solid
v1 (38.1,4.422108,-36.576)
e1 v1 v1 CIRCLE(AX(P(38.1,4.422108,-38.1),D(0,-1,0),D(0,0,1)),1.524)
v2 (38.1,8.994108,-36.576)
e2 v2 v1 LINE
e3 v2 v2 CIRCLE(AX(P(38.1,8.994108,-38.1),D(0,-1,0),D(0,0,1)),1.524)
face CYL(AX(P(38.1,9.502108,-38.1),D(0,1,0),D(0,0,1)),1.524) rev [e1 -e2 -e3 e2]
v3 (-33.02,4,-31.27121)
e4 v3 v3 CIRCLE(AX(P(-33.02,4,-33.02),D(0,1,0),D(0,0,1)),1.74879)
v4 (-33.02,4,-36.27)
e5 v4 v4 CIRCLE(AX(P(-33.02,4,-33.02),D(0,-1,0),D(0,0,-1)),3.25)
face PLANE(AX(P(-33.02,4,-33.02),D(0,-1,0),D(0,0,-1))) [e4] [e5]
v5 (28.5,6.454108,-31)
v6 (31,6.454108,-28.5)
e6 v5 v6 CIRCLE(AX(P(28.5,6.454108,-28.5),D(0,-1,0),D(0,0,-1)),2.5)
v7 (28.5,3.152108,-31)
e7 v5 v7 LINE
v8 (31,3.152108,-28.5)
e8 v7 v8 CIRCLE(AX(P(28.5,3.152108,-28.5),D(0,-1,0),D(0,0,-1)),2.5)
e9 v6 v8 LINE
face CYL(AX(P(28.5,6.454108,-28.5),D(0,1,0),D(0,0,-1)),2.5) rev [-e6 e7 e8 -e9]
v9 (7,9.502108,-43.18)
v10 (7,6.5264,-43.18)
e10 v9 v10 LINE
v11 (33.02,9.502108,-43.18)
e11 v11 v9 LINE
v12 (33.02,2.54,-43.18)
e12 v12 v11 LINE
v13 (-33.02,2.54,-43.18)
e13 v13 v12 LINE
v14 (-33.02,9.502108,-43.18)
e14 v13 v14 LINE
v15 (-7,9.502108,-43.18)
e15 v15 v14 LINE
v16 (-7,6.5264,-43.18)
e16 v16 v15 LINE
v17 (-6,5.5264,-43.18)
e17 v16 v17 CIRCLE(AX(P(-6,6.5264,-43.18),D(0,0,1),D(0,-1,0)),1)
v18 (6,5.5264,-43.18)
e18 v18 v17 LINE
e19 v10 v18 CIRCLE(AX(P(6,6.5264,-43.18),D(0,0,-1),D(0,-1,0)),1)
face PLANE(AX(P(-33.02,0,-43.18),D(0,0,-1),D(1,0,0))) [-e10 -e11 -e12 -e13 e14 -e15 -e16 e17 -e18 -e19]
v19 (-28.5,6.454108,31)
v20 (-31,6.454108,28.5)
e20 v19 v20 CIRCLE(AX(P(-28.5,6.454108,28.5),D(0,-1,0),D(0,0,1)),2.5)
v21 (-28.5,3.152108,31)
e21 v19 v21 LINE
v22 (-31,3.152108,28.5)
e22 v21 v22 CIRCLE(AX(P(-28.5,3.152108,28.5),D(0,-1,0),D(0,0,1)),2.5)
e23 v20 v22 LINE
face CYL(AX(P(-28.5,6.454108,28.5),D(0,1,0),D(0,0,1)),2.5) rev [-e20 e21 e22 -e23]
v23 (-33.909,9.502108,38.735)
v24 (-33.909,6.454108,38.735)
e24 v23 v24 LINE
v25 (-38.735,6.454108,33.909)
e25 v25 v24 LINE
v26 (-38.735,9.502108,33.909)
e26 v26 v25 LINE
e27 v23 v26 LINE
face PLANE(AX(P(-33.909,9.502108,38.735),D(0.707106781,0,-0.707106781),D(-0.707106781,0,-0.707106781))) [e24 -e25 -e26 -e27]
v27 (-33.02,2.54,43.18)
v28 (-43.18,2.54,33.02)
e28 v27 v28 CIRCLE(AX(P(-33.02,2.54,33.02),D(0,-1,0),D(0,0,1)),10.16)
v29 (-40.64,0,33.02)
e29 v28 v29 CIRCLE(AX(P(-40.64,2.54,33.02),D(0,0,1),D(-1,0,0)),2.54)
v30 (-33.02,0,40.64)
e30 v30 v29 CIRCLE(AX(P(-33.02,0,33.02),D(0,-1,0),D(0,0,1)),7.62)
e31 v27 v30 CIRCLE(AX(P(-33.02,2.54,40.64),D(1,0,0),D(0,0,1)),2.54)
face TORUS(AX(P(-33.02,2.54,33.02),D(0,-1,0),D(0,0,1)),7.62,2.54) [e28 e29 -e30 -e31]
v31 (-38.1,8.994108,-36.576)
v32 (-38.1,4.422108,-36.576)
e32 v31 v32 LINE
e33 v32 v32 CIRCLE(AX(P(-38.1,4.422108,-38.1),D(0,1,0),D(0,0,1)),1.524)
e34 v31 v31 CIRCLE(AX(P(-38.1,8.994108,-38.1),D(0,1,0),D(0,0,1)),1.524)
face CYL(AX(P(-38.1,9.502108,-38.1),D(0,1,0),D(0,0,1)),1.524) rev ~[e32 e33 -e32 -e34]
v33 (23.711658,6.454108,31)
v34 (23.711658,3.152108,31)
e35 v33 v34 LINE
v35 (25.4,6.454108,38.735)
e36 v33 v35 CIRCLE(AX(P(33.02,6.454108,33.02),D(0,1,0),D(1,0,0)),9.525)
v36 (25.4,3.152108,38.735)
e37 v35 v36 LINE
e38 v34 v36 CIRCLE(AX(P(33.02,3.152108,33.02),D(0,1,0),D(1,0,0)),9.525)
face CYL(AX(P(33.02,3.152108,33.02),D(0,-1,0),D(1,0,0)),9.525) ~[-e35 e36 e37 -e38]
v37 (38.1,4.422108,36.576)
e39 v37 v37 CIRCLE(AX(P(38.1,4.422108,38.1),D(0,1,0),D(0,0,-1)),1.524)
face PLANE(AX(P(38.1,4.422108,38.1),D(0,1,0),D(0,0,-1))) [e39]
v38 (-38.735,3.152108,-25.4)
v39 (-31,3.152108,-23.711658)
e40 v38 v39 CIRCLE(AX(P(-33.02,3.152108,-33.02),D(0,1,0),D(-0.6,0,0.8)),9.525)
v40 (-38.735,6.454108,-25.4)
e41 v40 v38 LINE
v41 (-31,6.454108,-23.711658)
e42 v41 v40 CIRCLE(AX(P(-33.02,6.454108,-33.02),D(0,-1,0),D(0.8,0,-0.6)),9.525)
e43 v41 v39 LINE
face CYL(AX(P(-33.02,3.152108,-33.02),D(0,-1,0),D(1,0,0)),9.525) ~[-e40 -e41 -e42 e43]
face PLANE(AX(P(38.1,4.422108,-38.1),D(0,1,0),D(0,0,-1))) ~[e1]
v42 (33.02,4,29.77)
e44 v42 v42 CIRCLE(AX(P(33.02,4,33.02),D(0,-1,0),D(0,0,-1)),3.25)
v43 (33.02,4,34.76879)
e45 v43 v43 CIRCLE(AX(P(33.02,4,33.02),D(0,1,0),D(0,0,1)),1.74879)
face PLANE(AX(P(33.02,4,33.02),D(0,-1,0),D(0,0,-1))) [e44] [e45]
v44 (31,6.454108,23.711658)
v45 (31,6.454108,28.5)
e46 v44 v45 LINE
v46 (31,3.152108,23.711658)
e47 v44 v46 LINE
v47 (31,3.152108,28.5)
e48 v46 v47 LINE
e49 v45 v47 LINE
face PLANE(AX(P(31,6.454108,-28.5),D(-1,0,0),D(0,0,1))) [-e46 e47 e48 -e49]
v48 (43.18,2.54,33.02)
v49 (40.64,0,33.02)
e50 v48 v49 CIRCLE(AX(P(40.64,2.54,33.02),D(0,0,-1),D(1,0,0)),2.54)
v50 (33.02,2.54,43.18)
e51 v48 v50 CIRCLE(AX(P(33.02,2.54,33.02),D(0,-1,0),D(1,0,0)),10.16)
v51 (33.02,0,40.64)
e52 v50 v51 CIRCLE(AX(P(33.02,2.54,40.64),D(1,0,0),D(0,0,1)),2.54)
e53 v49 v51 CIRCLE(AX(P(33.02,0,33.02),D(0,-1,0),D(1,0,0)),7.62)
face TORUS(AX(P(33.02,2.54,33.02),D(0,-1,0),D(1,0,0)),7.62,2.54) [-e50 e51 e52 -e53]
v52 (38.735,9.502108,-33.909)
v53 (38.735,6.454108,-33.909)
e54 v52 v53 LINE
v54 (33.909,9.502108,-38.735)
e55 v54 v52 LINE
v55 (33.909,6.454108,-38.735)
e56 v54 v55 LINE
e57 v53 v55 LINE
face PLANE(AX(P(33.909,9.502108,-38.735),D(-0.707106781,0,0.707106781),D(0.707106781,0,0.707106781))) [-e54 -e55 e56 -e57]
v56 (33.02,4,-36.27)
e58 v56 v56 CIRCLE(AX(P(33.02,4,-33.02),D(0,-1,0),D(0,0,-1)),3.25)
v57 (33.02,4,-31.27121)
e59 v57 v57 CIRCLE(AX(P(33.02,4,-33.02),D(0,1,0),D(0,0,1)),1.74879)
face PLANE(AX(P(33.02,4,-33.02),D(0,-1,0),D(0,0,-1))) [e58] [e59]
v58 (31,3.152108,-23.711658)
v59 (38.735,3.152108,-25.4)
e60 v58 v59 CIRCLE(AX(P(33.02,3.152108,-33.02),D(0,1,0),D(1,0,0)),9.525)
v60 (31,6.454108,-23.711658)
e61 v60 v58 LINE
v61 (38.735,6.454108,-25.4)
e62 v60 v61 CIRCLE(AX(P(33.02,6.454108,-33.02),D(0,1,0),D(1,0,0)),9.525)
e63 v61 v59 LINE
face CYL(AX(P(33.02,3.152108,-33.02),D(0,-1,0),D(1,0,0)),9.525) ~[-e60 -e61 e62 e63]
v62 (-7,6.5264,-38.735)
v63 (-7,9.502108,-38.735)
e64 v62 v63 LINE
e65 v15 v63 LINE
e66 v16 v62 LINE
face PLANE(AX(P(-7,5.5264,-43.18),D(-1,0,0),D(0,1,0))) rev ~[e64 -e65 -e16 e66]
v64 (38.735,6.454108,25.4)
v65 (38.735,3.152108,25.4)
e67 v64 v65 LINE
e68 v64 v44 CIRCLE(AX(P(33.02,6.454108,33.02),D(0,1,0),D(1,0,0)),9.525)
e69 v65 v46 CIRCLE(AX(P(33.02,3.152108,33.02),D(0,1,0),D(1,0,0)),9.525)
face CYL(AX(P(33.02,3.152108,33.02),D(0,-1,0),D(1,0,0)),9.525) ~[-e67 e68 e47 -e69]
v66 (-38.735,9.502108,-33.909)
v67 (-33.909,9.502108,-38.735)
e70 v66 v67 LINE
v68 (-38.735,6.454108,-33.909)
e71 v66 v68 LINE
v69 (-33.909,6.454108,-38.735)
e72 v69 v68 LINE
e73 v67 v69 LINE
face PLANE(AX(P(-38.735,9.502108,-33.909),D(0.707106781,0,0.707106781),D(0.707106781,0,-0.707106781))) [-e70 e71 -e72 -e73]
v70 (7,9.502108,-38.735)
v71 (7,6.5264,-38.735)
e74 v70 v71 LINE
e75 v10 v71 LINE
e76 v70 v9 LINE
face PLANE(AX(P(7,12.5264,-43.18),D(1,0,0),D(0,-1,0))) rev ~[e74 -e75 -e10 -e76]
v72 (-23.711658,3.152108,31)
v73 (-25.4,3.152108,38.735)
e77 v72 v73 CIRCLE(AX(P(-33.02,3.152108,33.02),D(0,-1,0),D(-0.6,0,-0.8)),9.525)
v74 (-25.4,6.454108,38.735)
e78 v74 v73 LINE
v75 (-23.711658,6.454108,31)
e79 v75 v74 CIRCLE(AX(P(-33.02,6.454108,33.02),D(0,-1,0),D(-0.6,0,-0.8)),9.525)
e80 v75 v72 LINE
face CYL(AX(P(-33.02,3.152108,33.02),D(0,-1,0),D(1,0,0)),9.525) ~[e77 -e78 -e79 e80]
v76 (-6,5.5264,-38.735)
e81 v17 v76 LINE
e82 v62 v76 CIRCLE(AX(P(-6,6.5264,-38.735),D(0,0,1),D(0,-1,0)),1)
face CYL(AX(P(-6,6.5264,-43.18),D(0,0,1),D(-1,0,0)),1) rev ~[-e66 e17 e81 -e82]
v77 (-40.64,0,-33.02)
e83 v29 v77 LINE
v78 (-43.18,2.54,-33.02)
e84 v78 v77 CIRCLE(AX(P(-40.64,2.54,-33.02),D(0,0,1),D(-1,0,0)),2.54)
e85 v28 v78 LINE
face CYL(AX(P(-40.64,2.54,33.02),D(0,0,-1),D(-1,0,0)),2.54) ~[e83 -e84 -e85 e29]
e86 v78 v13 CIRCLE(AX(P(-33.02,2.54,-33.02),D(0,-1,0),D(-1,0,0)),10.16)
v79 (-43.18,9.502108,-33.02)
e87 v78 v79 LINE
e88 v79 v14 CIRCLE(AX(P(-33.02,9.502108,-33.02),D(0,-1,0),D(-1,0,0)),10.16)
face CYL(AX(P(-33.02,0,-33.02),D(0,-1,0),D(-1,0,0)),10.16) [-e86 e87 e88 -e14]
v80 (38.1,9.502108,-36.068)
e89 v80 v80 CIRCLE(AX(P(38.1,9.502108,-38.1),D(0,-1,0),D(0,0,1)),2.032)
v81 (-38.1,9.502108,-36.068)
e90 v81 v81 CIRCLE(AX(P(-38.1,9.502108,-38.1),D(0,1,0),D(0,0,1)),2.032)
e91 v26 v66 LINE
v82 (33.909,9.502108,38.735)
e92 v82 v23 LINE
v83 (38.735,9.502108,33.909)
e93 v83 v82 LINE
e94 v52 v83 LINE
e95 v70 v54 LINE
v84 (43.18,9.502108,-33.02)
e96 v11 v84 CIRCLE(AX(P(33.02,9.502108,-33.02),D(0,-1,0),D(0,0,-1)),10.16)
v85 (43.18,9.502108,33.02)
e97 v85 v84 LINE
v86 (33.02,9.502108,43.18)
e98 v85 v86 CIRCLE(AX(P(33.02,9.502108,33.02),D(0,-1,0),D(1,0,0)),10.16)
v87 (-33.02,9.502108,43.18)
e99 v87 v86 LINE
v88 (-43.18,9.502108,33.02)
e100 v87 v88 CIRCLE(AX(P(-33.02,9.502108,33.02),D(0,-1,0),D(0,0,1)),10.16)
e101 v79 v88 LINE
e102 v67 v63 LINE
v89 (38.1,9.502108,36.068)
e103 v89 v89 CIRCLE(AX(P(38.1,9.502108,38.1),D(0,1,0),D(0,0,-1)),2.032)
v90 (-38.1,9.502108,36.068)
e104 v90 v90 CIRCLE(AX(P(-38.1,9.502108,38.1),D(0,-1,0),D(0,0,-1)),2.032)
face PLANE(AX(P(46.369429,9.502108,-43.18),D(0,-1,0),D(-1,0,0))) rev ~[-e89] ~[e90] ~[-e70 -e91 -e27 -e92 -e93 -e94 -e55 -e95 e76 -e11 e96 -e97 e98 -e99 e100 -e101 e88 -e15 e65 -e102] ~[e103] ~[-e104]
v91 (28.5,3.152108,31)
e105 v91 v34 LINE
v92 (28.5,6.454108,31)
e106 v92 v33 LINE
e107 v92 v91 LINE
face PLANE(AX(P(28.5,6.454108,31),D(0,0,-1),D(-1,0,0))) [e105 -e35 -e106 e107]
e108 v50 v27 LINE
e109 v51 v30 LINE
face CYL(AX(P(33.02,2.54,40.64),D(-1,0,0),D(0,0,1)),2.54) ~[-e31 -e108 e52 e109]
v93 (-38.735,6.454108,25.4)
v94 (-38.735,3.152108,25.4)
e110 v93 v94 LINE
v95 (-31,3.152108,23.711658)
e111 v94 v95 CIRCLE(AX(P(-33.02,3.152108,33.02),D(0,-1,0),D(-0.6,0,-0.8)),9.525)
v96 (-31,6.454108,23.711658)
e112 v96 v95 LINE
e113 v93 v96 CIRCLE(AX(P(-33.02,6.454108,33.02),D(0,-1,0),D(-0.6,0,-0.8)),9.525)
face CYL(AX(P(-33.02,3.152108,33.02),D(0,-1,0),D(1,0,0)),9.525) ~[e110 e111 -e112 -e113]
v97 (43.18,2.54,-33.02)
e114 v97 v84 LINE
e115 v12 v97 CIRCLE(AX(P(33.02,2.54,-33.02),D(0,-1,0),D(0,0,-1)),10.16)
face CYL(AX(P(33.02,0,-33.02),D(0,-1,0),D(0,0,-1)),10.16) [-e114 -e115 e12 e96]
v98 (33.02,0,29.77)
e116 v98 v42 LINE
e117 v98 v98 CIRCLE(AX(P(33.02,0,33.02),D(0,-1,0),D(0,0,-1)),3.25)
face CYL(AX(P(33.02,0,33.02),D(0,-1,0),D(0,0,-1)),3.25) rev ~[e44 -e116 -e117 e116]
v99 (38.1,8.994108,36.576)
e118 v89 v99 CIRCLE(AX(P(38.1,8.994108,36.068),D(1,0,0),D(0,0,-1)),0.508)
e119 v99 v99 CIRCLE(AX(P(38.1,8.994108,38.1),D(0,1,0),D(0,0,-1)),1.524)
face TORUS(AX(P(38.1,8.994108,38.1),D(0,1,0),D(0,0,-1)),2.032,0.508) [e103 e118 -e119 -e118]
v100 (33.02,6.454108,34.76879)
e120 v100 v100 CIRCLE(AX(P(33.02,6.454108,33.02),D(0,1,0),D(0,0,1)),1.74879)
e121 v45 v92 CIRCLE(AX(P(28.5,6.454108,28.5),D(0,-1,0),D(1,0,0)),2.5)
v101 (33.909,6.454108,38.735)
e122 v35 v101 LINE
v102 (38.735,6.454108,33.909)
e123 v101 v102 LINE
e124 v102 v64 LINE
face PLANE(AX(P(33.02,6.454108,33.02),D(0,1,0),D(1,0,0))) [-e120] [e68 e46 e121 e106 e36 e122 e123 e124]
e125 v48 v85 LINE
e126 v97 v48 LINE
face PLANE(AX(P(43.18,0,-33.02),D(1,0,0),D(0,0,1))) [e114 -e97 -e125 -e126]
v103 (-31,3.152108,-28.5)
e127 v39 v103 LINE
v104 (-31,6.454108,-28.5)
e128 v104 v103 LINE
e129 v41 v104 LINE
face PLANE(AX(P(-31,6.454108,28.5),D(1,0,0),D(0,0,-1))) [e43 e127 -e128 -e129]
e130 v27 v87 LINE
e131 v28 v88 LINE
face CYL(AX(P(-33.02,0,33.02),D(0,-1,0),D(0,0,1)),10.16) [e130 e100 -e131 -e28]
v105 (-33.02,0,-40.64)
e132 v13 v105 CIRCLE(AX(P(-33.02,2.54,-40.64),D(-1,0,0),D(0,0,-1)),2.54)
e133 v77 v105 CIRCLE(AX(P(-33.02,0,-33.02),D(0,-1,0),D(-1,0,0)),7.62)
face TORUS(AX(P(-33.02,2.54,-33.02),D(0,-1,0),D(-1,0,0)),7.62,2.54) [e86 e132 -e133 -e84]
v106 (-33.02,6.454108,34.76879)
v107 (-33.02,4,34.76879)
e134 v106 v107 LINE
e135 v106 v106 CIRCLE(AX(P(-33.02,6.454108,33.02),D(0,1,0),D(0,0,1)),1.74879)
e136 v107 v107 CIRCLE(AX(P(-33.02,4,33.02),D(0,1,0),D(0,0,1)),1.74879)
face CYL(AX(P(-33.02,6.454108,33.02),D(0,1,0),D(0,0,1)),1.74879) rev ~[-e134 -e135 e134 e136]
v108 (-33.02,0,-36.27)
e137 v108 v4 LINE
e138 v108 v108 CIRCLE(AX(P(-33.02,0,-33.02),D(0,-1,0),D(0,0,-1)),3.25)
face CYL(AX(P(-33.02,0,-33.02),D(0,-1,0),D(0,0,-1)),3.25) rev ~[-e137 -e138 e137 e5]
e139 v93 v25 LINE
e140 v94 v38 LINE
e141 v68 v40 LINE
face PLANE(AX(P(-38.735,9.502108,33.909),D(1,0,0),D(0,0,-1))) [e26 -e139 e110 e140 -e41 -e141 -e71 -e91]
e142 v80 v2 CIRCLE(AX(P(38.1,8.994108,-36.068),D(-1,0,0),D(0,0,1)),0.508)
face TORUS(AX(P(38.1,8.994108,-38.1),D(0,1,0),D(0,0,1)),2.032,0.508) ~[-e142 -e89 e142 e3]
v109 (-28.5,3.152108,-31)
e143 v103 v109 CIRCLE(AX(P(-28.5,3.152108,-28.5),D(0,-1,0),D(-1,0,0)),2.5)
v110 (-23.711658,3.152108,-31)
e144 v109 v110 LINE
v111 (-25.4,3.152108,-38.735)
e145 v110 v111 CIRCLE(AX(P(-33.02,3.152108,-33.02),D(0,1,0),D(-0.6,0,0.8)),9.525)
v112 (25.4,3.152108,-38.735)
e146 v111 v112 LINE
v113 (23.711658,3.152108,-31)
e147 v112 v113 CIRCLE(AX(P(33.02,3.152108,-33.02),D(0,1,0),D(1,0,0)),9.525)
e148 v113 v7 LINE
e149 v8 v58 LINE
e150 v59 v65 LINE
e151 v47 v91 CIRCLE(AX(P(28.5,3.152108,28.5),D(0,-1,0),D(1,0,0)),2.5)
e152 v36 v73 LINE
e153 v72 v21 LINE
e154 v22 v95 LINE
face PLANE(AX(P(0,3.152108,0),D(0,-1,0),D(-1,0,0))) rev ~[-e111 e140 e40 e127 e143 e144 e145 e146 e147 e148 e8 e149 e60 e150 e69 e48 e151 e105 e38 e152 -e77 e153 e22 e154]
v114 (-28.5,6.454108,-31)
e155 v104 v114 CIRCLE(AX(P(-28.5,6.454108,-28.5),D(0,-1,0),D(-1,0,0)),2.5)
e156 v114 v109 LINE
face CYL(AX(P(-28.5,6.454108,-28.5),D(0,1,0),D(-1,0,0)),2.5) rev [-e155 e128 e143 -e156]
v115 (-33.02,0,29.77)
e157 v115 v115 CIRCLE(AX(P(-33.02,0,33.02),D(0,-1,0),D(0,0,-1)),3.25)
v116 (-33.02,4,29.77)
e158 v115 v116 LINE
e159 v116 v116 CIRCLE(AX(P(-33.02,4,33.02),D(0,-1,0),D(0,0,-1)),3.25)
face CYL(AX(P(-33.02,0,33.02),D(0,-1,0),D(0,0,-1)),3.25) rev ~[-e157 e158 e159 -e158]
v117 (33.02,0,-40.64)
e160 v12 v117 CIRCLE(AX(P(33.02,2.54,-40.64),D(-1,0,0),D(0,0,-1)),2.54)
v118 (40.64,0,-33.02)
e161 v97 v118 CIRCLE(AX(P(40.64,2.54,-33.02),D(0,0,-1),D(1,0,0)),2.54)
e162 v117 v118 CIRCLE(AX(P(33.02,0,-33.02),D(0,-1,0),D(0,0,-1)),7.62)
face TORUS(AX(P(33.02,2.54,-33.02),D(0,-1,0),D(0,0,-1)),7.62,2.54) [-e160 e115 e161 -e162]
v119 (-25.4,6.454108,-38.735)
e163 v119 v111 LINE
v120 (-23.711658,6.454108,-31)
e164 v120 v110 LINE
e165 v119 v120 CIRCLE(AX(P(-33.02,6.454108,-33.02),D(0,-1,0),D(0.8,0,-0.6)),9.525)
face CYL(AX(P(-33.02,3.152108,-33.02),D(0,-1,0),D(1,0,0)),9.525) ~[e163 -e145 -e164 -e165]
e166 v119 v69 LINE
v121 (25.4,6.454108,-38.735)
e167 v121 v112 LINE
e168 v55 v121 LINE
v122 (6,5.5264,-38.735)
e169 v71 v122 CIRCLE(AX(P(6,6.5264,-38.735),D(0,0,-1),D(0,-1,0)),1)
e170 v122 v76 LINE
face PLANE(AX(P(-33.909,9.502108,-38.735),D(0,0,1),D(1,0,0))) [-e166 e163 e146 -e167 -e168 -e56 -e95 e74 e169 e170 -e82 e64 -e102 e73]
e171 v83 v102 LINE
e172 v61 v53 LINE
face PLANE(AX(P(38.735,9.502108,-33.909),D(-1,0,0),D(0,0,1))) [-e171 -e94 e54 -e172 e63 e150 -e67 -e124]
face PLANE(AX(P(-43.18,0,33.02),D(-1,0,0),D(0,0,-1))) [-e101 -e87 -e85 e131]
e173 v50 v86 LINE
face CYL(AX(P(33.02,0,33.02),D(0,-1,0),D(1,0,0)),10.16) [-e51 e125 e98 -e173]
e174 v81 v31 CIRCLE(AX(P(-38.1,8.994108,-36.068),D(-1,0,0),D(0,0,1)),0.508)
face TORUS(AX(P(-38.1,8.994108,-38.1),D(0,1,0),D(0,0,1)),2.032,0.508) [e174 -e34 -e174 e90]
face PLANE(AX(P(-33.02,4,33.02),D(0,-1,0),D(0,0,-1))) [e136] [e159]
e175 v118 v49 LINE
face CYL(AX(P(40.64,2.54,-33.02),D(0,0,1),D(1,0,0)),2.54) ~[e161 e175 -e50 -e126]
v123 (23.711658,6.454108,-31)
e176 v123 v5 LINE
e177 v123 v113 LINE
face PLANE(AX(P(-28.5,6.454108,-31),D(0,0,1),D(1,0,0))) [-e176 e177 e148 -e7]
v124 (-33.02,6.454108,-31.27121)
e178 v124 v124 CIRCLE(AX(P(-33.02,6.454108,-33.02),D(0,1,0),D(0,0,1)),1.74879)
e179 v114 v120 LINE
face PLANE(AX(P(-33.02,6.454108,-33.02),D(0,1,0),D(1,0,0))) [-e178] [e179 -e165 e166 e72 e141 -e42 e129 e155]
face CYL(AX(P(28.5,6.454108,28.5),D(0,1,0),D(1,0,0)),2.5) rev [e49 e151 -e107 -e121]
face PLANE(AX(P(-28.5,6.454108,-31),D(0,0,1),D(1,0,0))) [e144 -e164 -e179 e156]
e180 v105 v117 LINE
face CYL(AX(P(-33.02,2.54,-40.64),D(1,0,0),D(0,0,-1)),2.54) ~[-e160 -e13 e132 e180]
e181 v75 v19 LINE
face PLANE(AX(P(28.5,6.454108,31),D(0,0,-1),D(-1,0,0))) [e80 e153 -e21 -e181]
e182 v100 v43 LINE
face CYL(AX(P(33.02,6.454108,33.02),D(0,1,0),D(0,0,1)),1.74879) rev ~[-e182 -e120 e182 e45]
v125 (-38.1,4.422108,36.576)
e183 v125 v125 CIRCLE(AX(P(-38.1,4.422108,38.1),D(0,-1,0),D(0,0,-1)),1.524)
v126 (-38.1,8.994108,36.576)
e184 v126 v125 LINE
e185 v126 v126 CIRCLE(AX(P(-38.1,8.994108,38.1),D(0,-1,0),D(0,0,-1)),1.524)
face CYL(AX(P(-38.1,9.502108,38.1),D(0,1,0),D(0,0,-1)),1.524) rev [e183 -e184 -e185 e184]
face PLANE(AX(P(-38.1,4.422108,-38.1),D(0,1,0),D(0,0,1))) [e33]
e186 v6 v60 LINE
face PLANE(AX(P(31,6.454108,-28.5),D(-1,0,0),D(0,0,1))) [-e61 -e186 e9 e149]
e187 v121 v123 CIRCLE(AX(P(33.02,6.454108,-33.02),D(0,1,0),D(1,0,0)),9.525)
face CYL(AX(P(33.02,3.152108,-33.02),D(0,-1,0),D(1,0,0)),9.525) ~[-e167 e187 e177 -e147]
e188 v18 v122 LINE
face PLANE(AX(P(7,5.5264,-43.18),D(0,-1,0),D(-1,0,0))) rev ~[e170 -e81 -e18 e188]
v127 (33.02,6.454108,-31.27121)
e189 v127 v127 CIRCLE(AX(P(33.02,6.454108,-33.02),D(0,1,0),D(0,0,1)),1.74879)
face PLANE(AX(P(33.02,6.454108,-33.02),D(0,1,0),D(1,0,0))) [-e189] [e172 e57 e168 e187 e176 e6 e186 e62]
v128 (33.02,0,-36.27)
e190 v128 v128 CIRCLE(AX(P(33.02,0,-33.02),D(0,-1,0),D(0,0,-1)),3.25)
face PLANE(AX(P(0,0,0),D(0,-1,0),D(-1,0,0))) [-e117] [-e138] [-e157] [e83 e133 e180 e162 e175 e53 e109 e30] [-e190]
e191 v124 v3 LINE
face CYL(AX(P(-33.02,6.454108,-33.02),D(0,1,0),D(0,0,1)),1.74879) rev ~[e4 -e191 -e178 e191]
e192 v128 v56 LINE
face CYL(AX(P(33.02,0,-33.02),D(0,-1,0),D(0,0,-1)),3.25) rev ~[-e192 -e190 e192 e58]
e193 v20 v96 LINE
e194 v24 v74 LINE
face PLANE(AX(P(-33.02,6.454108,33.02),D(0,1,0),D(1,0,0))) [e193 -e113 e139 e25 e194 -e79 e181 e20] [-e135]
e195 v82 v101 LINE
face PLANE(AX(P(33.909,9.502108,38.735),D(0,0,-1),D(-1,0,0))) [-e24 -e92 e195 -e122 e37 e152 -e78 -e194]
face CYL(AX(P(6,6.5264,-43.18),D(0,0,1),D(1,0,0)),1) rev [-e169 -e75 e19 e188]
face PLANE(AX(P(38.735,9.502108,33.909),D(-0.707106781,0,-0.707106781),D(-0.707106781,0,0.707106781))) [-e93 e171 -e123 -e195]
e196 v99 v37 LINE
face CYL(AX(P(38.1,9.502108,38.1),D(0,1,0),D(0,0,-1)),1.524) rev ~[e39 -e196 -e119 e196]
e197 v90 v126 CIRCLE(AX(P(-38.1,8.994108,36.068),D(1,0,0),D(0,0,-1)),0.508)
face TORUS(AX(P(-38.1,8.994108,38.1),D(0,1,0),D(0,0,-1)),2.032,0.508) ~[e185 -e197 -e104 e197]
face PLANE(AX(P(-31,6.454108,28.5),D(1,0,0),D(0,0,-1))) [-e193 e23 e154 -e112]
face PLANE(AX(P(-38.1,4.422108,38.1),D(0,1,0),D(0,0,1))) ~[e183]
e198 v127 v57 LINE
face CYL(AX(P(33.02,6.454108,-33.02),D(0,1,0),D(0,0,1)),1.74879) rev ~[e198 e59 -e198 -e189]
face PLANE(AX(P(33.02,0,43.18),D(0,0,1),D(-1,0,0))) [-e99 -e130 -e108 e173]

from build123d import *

# Parameters (mm, degrees)
BOSS_EXTRUDE1_DEPTH     = 24.9936
CUT_EXTRUDE1_DEPTH      = 20
SKETCH5_W               = 92.738858464
SKETCH5_H               = 19.900213379
CUT_EXTRUDE2_DEPTH      = 127
CUT_EXTRUDE3_DEPTH      = 6.35
SKETCH8_R               = 9.525
BOSS_EXTRUDE2_DEPTH     = 3.302
FILLET2_R               = 2.54
SKETCH9_R               = 1.74879
CUT_EXTRUDE4_DEPTH      = 15.6972
SKETCH10_R              = 3.25
CUT_EXTRUDE5_DEPTH      = 4
SKETCH11_R              = 1.524
CUT_EXTRUDE6_DEPTH      = 5.08
MIRROR2_COPY_1_SKETCH_R = 1.524
MIRROR2_COPY_1_DEPTH    = 5.08
FILLET3_R               = 0.508
CUT_EXTRUDE7_DEPTH      = 3.302
FILLET5_R               = 1


with BuildPart() as part:
    # Sketch1 → Boss-Extrude1 (new body)
    with BuildSketch(Plane(origin=(0, 0, 0), x_dir=(1, 0, 0), z_dir=(0, 1, 0))):
        with BuildLine():
            Line((-33.02, 43.18), (33.02, 43.18))
            ThreePointArc((33.02, 43.18), (40.204204897, 40.204204897), (43.18, 33.02))
            Line((43.18, 33.02), (43.18, -33.02))
            ThreePointArc((43.18, -33.02), (40.204204897, -40.204204897), (33.02, -43.18))
            Line((33.02, -43.18), (-33.02, -43.18))
            ThreePointArc((-33.02, -43.18), (-40.204204897, -40.204204897), (-43.18, -33.02))
            Line((-43.18, -33.02), (-43.18, 33.02))
            ThreePointArc((-43.18, 33.02), (-40.204204897, 40.204204897), (-33.02, 43.18))
        make_face()
    extrude(amount=BOSS_EXTRUDE1_DEPTH)

    # Sketch2 → Cut-Extrude1 (cut)
    with BuildSketch(Plane(origin=(0, 0, -43.18), x_dir=(-1, 0, 0), z_dir=(0, 0, -1))):
        Polygon((-7, 8.0264), (-7, 5.5264), (7, 5.5264), (7, 8.0264), (7, 12.5264), (-7, 12.5264), align=None)
    extrude(amount=-CUT_EXTRUDE1_DEPTH, mode=Mode.SUBTRACT)

    # Sketch5 → Cut-Extrude2 (cut)
    with BuildSketch(Plane(origin=(0, 0, -43.18), x_dir=(-1, 0, 0), z_dir=(0, 0, -1))):
        with Locations((0, 19.452214385)):
            Rectangle(SKETCH5_W, SKETCH5_H)
    extrude(amount=-CUT_EXTRUDE2_DEPTH, mode=Mode.SUBTRACT)

    # Sketch7 → Cut-Extrude3 (cut)
    with BuildSketch(Plane(origin=(0, 9.502107695, 0), x_dir=(1, 0, 0), z_dir=(0, 1, 0))):
        Polygon((-38.735, 33.909), (-33.909, 38.735), (33.909, 38.735), (38.735, 33.909), (38.735, -33.909), (33.909, -38.735), (-33.909, -38.735), (-38.735, -33.909), align=None)
    extrude(amount=-CUT_EXTRUDE3_DEPTH, mode=Mode.SUBTRACT)

    # Sketch8 → Boss-Extrude2 (add)
    with BuildSketch(Plane(origin=(0, 3.152107695, 0), x_dir=(1, 0, 0), z_dir=(0, 1, 0))):
        with Locations((-33.02, 33.02)):
            Circle(SKETCH8_R)
        with Locations((33.02, 33.02)):
            Circle(SKETCH8_R)
        with Locations((-33.02, -33.02)):
            Circle(SKETCH8_R)
        with Locations((33.02, -33.02)):
            Circle(SKETCH8_R)
    extrude(amount=BOSS_EXTRUDE2_DEPTH)

    # Fillet2
    fillet2_edges = [part.edges().sort_by_distance(p)[0] for p in [
        (0, 0, 43.18),
        (-40.204204897, 0, 40.204204897),
        (-43.18, 0, 0),
        (-40.204204897, 0, -40.204204897),
        (0, 0, -43.18),
        (40.204204897, 0, -40.204204897),
        (43.18, 0, 0),
        (40.204204897, 0, 40.204204897),
    ]]
    fillet(fillet2_edges, radius=FILLET2_R)

    # Sketch9 → Cut-Extrude4 (cut)
    with BuildSketch(Plane(origin=(0, 6.454107695, 0), x_dir=(1, 0, 0), z_dir=(0, 1, 0))):
        with Locations(Location((-33.02, 33.02, 0), (0, 0, 270))):
            Circle(SKETCH9_R)
        with Locations(Location((33.02, 33.02, 0), (0, 0, 270))):
            Circle(SKETCH9_R)
        with Locations(Location((-33.02, -33.02, 0), (0, 0, 270))):
            Circle(SKETCH9_R)
        with Locations(Location((33.02, -33.02, 0), (0, 0, 270))):
            Circle(SKETCH9_R)
    extrude(amount=-CUT_EXTRUDE4_DEPTH, mode=Mode.SUBTRACT)

    # Sketch10 → Cut-Extrude5 (cut)
    with BuildSketch(Plane.XZ):
        with Locations(Location((-33.02, -33.02, 0), (0, 0, 270))):
            Circle(SKETCH10_R)
        with Locations(Location((-33.02, 33.02, 0), (0, 0, 270))):
            Circle(SKETCH10_R)
        with Locations(Location((33.02, 33.02, 0), (0, 0, 270))):
            Circle(SKETCH10_R)
        with Locations(Location((33.02, -33.02, 0), (0, 0, 270))):
            Circle(SKETCH10_R)
    extrude(amount=-CUT_EXTRUDE5_DEPTH, mode=Mode.SUBTRACT)

    # Sketch11 → Cut-Extrude6 (cut)
    with BuildSketch(Plane(origin=(0, 9.502107695, 0), x_dir=(1, 0, 0), z_dir=(0, 1, 0))):
        with Locations(Location((-38.1, 38.1, 0), (0, 0, 270))):
            Circle(SKETCH11_R)
    cut_extrude6 = extrude(amount=-CUT_EXTRUDE6_DEPTH, mode=Mode.SUBTRACT)

    # Mirror1: Cut-Extrude6 across plane
    add(cut_extrude6.mirror(Plane(origin=(0, 0, 0), x_dir=(0, 0, 1), z_dir=(1, 0, 0))), mode=Mode.SUBTRACT)

    # Mirror2: Cut-Extrude6 across plane
    add(cut_extrude6.mirror(Plane.XY), mode=Mode.SUBTRACT)

    # Mirror2 copy 1 sketch → Mirror2 copy 1 (cut)
    with BuildSketch(Plane(origin=(0, 9.502107695, 0), x_dir=(-1, 0, 0), z_dir=(0, 1, 0))):
        with Locations(Location((-38.1, 38.1, 0), (0, 0, 270))):
            Circle(MIRROR2_COPY_1_SKETCH_R)
    extrude(amount=-MIRROR2_COPY_1_DEPTH, mode=Mode.SUBTRACT)

    # Fillet3
    fillet3_edges = [part.edges().sort_by_distance(p)[0] for p in [
        (-38.1, 9.502107695, -39.624),
        (38.1, 9.502107695, -39.624),
        (-38.1, 9.502107695, 39.624),
        (38.1, 9.502107695, 39.624),
    ]]
    fillet(fillet3_edges, radius=FILLET3_R)

    # Sketch12 → Cut-Extrude7 (cut)
    with BuildSketch(Plane(origin=(0, 6.454107695, 0), x_dir=(1, 0, 0), z_dir=(0, 1, 0))):
        with BuildLine():
            Line((28.5, -31), (-28.5, -31))
            ThreePointArc((-28.5, -31), (-30.267766953, -30.267766953), (-31, -28.5))
            Line((-31, -28.5), (-31, 28.5))
            ThreePointArc((-31, 28.5), (-30.267766953, 30.267766953), (-28.5, 31))
            Line((-28.5, 31), (28.5, 31))
            ThreePointArc((28.5, 31), (30.267766953, 30.267766953), (31, 28.5))
            Line((31, 28.5), (31, -28.5))
            ThreePointArc((31, -28.5), (30.267766953, -30.267766953), (28.5, -31))
        make_face()
    extrude(amount=-CUT_EXTRUDE7_DEPTH, mode=Mode.SUBTRACT)

    # Fillet5
    fillet5_edges = [part.edges().sort_by_distance(p)[0] for p in [
        (7, 5.5264, -40.9575),
        (-7, 5.5264, -40.9575),
    ]]
    fillet(fillet5_edges, radius=FILLET5_R)


solid = part.part
